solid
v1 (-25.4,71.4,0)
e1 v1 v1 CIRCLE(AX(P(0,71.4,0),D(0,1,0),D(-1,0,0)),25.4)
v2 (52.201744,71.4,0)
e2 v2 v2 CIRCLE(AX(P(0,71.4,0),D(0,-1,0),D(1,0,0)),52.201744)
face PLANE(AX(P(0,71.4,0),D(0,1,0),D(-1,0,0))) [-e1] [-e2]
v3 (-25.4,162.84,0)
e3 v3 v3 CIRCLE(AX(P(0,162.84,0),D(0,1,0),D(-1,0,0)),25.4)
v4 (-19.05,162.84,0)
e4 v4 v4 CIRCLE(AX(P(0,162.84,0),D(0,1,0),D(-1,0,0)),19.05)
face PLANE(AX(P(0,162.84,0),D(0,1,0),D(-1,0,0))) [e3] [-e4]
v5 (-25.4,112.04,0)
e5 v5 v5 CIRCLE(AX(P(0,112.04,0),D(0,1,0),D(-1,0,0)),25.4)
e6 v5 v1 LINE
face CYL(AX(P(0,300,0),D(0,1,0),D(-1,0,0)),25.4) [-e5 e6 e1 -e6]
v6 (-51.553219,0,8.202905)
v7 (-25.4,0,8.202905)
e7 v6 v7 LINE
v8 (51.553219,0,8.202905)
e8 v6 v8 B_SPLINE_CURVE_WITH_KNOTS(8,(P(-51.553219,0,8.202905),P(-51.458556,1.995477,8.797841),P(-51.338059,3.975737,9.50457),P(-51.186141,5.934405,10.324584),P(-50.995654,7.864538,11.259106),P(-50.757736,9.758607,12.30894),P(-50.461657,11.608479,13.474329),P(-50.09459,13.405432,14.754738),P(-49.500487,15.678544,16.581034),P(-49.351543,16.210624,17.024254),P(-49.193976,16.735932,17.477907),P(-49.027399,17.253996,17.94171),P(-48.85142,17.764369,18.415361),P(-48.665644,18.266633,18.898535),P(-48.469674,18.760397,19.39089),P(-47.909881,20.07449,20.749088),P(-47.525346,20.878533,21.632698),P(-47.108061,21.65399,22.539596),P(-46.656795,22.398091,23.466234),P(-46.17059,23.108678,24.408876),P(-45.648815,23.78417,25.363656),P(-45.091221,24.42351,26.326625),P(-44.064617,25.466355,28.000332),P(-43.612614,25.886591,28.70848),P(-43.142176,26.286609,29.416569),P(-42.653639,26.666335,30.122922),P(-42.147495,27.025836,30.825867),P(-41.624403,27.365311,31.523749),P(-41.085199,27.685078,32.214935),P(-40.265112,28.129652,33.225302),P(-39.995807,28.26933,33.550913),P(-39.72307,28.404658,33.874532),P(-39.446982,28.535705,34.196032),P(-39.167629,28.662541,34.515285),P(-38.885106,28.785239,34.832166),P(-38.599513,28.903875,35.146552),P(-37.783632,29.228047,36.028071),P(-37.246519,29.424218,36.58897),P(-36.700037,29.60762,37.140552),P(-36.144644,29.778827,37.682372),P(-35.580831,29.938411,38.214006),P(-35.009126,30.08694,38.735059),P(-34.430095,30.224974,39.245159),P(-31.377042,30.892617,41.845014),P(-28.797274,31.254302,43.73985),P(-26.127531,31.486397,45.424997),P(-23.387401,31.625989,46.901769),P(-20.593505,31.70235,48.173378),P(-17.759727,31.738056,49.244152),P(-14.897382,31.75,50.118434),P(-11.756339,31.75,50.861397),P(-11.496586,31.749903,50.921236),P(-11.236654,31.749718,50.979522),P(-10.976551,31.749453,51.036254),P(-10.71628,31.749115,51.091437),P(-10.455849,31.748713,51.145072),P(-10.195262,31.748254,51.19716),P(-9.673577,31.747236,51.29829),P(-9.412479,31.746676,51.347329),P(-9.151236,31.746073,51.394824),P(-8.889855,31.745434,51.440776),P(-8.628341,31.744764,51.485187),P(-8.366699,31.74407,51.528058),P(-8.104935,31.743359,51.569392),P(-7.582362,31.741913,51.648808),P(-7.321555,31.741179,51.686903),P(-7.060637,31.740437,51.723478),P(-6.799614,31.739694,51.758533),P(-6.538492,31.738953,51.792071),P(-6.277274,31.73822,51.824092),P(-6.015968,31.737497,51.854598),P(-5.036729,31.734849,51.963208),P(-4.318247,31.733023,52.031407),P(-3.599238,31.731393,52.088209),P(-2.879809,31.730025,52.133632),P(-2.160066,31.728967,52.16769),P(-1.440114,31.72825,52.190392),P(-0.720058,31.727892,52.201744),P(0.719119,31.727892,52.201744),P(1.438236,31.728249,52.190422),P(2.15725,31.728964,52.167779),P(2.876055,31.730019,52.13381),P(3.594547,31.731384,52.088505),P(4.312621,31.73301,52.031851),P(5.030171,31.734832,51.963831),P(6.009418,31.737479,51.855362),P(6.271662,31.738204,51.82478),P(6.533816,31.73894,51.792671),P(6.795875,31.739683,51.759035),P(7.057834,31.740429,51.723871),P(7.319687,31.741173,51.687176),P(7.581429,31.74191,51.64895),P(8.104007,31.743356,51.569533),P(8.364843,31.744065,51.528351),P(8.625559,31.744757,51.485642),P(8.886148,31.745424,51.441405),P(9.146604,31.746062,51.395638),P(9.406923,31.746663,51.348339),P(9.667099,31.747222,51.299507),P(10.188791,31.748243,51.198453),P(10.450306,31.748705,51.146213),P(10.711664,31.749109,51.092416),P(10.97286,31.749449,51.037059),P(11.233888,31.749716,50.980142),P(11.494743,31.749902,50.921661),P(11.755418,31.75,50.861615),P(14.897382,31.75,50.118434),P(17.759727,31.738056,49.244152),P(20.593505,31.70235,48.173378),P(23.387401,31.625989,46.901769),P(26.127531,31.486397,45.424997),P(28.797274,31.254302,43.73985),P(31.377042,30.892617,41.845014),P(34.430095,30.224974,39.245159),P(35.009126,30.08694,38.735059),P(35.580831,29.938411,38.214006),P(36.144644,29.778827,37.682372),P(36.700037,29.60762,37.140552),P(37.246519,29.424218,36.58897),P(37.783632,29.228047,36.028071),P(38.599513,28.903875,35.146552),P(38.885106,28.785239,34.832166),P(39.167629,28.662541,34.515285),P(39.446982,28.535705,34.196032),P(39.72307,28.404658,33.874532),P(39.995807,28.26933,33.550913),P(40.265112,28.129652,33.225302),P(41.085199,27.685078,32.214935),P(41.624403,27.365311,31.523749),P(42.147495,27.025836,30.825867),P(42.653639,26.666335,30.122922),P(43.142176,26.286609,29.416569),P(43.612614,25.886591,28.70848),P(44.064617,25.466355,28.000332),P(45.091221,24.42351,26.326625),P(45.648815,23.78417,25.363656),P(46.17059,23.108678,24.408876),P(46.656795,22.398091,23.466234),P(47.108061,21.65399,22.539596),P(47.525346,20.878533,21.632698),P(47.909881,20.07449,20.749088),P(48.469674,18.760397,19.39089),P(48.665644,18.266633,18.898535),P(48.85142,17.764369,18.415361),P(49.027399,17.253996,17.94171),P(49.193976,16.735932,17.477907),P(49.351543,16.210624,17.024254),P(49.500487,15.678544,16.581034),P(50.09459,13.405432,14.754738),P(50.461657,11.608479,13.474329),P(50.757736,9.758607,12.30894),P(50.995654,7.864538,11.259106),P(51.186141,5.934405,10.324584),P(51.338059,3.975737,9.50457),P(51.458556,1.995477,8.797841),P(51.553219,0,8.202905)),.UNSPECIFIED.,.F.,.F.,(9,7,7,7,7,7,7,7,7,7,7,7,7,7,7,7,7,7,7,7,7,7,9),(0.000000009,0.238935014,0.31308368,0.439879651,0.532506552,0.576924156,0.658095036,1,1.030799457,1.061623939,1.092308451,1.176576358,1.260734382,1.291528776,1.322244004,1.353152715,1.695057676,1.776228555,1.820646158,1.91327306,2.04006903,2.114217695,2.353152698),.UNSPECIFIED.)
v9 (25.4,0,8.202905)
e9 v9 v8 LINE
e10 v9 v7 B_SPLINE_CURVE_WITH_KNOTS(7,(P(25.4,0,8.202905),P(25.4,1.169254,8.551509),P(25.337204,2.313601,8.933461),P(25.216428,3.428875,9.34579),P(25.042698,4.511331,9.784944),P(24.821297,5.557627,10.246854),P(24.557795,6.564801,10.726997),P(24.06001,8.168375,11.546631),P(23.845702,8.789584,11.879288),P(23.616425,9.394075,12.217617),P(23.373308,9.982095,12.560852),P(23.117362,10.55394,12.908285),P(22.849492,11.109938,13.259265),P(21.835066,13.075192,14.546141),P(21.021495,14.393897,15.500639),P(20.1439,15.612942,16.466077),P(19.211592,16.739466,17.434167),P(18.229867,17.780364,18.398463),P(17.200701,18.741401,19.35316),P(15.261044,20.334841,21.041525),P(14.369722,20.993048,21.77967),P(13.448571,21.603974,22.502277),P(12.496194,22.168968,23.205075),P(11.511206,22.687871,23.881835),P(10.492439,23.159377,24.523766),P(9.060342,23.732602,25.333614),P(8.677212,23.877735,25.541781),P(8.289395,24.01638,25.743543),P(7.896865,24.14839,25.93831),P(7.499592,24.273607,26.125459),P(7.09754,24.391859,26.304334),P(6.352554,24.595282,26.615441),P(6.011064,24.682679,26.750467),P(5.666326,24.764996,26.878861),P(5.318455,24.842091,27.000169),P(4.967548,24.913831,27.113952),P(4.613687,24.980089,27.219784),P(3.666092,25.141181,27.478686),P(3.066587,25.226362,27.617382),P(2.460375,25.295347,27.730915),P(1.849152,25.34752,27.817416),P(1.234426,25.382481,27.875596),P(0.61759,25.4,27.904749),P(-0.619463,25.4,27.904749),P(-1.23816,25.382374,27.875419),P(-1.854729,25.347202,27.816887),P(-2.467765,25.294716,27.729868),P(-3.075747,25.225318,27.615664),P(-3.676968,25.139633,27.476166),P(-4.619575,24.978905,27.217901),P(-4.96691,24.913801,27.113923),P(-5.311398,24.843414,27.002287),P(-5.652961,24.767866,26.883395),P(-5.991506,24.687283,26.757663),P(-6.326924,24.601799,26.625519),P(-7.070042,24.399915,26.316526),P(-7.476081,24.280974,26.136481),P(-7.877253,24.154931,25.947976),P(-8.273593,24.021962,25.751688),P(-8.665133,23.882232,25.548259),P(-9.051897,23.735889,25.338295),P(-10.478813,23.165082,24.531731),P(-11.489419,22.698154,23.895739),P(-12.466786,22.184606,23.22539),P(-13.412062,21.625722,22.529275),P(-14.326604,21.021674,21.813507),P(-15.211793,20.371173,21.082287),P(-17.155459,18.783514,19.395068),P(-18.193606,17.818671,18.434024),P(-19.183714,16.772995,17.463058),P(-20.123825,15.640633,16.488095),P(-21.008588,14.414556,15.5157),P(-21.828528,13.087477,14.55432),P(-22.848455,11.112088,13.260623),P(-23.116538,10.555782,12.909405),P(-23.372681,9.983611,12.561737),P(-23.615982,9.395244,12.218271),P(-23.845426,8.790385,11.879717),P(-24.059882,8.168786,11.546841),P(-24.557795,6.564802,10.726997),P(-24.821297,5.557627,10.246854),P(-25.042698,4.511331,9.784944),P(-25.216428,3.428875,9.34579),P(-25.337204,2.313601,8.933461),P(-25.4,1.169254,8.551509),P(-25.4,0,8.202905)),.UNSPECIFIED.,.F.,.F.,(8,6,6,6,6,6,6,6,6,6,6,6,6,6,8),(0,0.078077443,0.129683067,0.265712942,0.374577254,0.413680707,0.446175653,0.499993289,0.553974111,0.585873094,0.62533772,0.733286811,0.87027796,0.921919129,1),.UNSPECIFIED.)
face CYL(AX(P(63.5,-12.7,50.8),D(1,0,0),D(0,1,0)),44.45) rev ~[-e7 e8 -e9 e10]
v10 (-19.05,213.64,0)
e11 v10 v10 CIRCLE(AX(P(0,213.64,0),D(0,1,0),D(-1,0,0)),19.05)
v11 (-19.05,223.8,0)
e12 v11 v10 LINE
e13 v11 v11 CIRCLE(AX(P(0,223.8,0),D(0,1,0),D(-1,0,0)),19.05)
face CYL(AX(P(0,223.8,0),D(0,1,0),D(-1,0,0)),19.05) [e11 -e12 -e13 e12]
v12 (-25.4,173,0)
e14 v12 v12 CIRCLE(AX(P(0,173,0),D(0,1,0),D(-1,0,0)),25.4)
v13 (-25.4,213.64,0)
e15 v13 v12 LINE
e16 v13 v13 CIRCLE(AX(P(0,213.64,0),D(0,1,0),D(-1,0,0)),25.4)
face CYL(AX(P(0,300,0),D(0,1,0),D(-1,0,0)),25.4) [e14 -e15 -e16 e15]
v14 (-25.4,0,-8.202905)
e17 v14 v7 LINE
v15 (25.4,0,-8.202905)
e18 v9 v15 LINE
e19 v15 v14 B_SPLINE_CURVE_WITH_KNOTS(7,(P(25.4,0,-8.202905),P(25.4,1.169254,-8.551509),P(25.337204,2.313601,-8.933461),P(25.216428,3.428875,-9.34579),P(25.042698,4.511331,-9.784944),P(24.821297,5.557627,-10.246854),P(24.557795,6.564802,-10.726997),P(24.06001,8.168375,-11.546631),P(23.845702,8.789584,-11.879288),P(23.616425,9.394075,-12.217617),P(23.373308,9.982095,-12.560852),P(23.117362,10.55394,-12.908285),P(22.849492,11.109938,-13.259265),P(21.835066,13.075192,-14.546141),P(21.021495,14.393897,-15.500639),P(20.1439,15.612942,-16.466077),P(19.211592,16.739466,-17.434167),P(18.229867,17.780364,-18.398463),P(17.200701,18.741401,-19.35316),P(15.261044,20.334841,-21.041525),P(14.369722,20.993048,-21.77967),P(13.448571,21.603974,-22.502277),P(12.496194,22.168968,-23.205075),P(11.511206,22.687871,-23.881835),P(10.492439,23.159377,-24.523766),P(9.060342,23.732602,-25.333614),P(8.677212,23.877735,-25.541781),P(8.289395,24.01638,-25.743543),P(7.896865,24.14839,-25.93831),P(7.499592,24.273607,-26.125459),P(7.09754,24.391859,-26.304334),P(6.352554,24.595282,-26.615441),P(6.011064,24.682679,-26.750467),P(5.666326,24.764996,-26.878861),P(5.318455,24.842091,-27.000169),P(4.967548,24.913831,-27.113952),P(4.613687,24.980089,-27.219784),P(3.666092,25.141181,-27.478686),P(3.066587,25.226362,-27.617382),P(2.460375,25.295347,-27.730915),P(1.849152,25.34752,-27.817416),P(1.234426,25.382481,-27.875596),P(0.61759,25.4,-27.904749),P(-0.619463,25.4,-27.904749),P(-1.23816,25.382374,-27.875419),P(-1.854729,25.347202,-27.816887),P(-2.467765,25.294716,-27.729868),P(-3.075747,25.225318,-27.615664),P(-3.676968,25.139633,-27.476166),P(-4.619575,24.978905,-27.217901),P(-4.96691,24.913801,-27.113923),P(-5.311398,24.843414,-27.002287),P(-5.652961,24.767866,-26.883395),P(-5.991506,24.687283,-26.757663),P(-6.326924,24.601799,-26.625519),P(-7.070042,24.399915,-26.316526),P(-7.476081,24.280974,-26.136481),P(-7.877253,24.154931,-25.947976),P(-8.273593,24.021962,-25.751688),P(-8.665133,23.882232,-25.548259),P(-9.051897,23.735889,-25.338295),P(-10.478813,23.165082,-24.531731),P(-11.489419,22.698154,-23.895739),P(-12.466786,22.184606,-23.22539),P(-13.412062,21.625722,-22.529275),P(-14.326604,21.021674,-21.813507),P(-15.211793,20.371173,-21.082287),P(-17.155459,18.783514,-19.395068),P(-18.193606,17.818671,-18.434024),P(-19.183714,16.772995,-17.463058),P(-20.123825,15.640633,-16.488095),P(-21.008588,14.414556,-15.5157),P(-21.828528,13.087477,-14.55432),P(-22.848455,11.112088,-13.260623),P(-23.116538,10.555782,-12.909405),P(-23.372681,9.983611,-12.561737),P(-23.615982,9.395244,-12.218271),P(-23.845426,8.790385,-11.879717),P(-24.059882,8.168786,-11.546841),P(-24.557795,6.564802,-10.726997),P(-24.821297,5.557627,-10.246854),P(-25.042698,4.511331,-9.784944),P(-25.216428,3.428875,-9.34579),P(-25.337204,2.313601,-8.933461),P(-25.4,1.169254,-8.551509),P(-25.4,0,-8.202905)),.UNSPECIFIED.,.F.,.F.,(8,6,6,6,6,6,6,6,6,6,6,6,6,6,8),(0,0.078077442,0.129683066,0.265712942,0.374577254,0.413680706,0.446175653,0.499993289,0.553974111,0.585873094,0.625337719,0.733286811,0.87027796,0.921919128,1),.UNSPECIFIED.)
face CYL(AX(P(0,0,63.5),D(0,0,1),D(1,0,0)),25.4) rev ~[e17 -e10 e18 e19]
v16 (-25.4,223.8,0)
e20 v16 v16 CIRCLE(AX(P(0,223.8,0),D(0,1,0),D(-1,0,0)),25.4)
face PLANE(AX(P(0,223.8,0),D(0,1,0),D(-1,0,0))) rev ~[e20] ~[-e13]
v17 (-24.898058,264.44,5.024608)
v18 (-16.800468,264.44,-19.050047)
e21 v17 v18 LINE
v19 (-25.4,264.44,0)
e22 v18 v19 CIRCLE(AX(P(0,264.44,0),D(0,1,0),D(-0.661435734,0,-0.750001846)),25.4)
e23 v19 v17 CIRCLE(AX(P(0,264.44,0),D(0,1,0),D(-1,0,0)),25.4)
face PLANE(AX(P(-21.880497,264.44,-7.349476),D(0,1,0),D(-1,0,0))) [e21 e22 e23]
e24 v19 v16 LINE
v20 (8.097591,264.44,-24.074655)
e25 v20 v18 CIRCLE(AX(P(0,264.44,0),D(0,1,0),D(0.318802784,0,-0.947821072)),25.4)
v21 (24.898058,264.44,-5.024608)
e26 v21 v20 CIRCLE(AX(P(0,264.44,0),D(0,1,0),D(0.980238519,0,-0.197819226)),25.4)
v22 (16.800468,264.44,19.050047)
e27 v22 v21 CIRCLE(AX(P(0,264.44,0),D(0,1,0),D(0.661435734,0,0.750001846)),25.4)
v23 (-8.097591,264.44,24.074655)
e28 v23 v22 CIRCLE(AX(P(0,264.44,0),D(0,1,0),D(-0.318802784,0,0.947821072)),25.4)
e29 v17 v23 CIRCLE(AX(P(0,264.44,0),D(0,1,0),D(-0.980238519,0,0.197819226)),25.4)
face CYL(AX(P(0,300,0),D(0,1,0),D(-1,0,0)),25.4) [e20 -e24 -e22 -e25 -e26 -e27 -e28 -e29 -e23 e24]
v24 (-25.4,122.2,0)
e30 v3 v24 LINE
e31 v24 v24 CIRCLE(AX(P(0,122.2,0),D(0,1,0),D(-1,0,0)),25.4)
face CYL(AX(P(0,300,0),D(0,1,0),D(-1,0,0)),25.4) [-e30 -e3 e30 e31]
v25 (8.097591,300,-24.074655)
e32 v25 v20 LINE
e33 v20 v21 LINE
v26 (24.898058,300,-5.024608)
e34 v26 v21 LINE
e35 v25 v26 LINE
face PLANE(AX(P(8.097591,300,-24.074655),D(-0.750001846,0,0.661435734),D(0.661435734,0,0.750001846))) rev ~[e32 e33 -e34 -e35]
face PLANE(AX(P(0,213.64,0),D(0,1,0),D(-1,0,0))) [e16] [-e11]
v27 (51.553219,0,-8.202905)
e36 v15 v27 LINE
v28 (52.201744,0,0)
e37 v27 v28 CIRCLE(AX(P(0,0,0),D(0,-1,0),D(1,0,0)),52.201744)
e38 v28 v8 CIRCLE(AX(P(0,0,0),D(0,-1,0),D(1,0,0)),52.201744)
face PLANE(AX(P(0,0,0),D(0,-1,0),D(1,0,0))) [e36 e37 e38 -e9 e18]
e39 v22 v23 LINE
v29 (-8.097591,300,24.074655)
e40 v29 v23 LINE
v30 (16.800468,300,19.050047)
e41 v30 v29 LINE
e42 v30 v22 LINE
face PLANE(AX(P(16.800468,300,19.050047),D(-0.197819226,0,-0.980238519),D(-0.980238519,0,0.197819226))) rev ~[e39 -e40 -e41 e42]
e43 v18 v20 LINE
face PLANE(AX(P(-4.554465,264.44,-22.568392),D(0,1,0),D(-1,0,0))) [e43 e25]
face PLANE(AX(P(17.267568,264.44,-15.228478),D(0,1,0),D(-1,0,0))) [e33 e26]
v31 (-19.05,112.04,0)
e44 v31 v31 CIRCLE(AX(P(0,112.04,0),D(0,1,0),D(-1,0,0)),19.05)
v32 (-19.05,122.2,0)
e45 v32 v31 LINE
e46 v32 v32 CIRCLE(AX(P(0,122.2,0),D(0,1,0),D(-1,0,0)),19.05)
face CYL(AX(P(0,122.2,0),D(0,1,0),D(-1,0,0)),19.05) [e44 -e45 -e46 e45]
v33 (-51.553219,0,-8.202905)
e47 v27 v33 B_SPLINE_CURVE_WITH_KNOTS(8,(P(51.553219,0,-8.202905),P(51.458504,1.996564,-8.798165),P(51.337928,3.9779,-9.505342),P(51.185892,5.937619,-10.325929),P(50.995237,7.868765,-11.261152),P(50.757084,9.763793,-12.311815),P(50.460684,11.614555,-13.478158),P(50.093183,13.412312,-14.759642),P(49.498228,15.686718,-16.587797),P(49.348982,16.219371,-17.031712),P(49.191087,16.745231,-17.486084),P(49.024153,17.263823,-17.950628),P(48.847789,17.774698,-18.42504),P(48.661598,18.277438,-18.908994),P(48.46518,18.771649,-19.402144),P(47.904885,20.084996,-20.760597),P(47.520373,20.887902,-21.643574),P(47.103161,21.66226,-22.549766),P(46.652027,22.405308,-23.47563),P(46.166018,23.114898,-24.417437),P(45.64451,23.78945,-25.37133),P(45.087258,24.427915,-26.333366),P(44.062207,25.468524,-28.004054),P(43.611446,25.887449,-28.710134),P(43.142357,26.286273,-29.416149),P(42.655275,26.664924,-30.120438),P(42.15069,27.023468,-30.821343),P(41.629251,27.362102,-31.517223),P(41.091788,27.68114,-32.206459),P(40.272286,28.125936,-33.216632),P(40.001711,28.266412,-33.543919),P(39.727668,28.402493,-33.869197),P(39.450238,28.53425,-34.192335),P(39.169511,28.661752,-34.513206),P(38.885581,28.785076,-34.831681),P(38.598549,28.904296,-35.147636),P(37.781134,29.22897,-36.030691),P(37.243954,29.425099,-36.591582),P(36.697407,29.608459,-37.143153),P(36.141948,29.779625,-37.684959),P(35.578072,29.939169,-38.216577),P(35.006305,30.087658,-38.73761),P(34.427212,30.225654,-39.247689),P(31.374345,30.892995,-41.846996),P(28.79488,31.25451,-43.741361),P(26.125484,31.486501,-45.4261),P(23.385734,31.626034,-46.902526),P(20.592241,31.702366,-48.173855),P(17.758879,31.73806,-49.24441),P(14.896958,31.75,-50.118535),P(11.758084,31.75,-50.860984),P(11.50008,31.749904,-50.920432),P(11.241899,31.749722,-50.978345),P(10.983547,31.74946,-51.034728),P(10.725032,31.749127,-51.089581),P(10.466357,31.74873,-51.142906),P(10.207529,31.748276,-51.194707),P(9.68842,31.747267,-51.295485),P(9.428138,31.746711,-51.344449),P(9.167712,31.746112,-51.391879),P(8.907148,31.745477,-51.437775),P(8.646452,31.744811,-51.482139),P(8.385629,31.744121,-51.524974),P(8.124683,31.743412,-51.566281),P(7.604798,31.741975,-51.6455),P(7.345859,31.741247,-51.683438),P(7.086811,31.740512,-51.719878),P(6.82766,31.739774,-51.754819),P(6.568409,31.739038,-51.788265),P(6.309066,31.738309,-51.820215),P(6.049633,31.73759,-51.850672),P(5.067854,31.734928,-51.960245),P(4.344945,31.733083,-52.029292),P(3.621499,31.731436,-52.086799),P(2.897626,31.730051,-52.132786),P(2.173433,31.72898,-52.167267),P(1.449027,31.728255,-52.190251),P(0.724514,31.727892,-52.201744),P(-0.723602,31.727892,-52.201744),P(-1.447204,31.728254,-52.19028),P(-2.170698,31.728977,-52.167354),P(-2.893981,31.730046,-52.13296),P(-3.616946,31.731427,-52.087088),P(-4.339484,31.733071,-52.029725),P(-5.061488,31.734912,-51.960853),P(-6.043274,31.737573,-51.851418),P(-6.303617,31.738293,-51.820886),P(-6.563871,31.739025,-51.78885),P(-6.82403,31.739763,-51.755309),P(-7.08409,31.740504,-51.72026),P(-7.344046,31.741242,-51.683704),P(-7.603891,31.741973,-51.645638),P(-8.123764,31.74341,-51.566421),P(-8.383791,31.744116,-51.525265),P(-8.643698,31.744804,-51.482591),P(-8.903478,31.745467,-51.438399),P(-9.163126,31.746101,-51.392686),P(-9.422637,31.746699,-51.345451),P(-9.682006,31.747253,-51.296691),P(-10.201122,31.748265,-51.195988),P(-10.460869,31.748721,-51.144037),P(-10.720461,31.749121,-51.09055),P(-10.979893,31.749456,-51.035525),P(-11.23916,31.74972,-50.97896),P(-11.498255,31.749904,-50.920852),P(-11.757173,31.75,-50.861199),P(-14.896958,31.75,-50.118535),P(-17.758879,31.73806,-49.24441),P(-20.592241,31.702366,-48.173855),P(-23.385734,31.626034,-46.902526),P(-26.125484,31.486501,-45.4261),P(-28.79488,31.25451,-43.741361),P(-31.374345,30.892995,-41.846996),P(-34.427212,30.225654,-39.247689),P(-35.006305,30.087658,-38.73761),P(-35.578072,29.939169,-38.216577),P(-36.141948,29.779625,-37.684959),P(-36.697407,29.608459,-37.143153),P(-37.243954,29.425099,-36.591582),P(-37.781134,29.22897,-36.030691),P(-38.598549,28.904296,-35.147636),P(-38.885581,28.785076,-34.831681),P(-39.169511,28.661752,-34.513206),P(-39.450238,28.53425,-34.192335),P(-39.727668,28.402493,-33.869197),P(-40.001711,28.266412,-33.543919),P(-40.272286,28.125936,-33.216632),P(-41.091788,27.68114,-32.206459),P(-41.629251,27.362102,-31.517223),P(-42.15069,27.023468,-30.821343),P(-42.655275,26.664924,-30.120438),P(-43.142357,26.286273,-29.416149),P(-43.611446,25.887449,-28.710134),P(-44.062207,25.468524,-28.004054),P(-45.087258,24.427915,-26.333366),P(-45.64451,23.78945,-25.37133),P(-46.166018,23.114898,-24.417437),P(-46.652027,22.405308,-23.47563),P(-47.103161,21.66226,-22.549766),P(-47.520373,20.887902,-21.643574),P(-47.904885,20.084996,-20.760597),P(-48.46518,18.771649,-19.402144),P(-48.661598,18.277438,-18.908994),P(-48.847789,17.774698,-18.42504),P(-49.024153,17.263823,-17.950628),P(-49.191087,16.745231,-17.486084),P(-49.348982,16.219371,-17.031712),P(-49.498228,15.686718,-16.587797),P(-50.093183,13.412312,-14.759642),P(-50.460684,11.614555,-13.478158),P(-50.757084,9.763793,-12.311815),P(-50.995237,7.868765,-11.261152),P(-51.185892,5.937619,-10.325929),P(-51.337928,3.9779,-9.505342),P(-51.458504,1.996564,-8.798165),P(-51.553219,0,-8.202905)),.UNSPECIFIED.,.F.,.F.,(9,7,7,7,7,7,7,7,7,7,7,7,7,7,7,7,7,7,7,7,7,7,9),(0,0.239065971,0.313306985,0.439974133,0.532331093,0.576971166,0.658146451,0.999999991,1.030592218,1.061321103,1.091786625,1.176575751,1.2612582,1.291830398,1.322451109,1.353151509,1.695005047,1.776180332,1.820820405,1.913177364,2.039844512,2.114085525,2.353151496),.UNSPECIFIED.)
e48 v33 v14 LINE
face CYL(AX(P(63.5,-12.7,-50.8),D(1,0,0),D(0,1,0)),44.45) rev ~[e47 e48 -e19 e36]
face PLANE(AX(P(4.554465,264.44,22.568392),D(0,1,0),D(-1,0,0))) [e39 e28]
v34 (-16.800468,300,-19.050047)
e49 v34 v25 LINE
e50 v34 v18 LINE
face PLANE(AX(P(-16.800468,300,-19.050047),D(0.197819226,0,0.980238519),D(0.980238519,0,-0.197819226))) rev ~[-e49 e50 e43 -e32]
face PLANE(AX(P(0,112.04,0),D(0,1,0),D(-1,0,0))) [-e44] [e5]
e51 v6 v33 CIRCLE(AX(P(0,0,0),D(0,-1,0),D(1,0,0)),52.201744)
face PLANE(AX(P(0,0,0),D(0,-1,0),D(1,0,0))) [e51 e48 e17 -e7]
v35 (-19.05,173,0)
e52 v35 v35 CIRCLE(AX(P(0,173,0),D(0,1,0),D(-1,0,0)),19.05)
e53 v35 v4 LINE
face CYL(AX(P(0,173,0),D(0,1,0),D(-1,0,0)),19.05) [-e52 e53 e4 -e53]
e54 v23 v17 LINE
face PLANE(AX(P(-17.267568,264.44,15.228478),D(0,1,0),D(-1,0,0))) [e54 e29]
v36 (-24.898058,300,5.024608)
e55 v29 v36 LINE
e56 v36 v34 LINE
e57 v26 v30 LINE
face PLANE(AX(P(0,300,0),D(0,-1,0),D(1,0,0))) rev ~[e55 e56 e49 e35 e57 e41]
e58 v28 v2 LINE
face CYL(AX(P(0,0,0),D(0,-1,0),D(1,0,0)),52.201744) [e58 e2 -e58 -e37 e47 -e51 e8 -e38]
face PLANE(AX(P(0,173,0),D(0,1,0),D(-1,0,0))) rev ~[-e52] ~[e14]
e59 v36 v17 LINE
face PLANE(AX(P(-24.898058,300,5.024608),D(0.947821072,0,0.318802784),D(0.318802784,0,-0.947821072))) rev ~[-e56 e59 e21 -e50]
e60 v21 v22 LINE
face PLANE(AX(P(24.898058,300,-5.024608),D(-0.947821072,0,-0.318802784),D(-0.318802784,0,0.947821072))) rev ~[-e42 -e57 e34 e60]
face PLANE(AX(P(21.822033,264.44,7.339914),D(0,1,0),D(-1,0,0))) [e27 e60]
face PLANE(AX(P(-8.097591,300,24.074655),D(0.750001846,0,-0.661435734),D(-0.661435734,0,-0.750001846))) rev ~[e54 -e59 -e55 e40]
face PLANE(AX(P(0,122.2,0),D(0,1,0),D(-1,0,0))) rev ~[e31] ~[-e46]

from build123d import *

# Parameters (mm, degrees)
F0_R      = 52.201743604
F1_DEPTH  = 300
F3_R      = 25.4
F4_DEPTH  = 152.4
F6_R      = 44.45
F7_DEPTH  = 152.4
F8_R      = 52.201743604
F8_R_2    = 25.4
F9_DEPTH  = 228.6
F13_R     = 31.75
F13_R_2   = 19.05
F15_R     = 31.75
F15_R_2   = 19.05
F14_R     = 31.75
F14_R_2   = 19.05
F16_DEPTH = 10.16
F18_DEPTH = 35.56


with BuildPart() as f1:
    # F0 (on Front) → F1 (new body)
    with BuildSketch(Plane.XZ):
        Circle(F0_R)
    extrude(amount=-F1_DEPTH)

    # F3 (on offset) → F4 (cut)
    with BuildSketch(Plane.XY.offset(63.5)):
        Circle(F3_R)
    extrude(amount=-F4_DEPTH, mode=Mode.SUBTRACT)

    # F6 (on offset) → F7 (cut)
    with BuildSketch(Plane.YZ.offset(63.5)):
        with Locations((-12.7, -50.8)):
            Circle(F6_R)
        with Locations((-12.7, 50.8)):
            Circle(F6_R)
    extrude(amount=-F7_DEPTH, mode=Mode.SUBTRACT)

    # F8 (on face) → F9 (cut)
    with BuildSketch(Plane(origin=(0, 300, 0), x_dir=(-1, 0, 0), z_dir=(0, 1, 0))):
        Circle(F8_R)
        Circle(F8_R_2, mode=Mode.SUBTRACT)
    extrude(amount=-F9_DEPTH, mode=Mode.SUBTRACT)

    # F13 (on offset) + F15 (on offset) + F14 (on offset) → F16 (cut)
    with BuildSketch(Plane(origin=(0, 122.2, 0), x_dir=(-1, 0, 0), z_dir=(0, 1, 0))):
        Circle(F13_R)
        Circle(F13_R_2, mode=Mode.SUBTRACT)
    with BuildSketch(Plane(origin=(0, 173, 0), x_dir=(-1, 0, 0), z_dir=(0, 1, 0))):
        Circle(F15_R)
        Circle(F15_R_2, mode=Mode.SUBTRACT)
    with BuildSketch(Plane(origin=(0, 223.8, 0), x_dir=(-1, 0, 0), z_dir=(0, 1, 0))):
        Circle(F14_R)
        Circle(F14_R_2, mode=Mode.SUBTRACT)
    extrude(amount=-F16_DEPTH, mode=Mode.SUBTRACT)

    # F17 (on face) → F18 (cut)
    with BuildSketch(Plane(origin=(0, 300, 0), x_dir=(-1, 0, 0), z_dir=(0, 1, 0))):
        with BuildLine():
            Line((-24.8980583787, -5.0246083398), (-16.8004676557, 19.050046891))
            ThreePointArc((-16.8004676557, 19.050046891), (-24.0746552308, 8.097590723), (-24.8980583787, -5.0246083398))
        make_face()
        with BuildLine():
            Line((-16.8004676557, 19.050046891), (8.097590723, 24.0746552308))
            ThreePointArc((8.097590723, 24.0746552308), (-5.0246083398, 24.8980583787), (-16.8004676557, 19.050046891))
        make_face()
        with BuildLine():
            Line((8.097590723, 24.0746552308), (24.8980583787, 5.0246083398))
            ThreePointArc((24.8980583787, 5.0246083398), (19.050046891, 16.8004676557), (8.097590723, 24.0746552308))
        make_face()
        with BuildLine():
            ThreePointArc((16.8004676557, -19.050046891), (23.1505062413, -10.4505531324), (25.4, 0))
            ThreePointArc((25.4, 0), (25.2742030816, 2.5248086244), (24.8980583787, 5.0246083398))
            Line((24.8980583787, 5.0246083398), (16.8004676557, -19.050046891))
        make_face()
        with BuildLine():
            ThreePointArc((-8.097590723, -24.0746552308), (5.0246083398, -24.8980583787), (16.8004676557, -19.050046891))
            Line((16.8004676557, -19.050046891), (-8.097590723, -24.0746552308))
        make_face()
        with BuildLine():
            ThreePointArc((-24.8980583787, -5.0246083398), (-19.050046891, -16.8004676557), (-8.097590723, -24.0746552308))
            Line((-8.097590723, -24.0746552308), (-24.8980583787, -5.0246083398))
        make_face()
    extrude(amount=-F18_DEPTH, mode=Mode.SUBTRACT)


solid = f1.part
